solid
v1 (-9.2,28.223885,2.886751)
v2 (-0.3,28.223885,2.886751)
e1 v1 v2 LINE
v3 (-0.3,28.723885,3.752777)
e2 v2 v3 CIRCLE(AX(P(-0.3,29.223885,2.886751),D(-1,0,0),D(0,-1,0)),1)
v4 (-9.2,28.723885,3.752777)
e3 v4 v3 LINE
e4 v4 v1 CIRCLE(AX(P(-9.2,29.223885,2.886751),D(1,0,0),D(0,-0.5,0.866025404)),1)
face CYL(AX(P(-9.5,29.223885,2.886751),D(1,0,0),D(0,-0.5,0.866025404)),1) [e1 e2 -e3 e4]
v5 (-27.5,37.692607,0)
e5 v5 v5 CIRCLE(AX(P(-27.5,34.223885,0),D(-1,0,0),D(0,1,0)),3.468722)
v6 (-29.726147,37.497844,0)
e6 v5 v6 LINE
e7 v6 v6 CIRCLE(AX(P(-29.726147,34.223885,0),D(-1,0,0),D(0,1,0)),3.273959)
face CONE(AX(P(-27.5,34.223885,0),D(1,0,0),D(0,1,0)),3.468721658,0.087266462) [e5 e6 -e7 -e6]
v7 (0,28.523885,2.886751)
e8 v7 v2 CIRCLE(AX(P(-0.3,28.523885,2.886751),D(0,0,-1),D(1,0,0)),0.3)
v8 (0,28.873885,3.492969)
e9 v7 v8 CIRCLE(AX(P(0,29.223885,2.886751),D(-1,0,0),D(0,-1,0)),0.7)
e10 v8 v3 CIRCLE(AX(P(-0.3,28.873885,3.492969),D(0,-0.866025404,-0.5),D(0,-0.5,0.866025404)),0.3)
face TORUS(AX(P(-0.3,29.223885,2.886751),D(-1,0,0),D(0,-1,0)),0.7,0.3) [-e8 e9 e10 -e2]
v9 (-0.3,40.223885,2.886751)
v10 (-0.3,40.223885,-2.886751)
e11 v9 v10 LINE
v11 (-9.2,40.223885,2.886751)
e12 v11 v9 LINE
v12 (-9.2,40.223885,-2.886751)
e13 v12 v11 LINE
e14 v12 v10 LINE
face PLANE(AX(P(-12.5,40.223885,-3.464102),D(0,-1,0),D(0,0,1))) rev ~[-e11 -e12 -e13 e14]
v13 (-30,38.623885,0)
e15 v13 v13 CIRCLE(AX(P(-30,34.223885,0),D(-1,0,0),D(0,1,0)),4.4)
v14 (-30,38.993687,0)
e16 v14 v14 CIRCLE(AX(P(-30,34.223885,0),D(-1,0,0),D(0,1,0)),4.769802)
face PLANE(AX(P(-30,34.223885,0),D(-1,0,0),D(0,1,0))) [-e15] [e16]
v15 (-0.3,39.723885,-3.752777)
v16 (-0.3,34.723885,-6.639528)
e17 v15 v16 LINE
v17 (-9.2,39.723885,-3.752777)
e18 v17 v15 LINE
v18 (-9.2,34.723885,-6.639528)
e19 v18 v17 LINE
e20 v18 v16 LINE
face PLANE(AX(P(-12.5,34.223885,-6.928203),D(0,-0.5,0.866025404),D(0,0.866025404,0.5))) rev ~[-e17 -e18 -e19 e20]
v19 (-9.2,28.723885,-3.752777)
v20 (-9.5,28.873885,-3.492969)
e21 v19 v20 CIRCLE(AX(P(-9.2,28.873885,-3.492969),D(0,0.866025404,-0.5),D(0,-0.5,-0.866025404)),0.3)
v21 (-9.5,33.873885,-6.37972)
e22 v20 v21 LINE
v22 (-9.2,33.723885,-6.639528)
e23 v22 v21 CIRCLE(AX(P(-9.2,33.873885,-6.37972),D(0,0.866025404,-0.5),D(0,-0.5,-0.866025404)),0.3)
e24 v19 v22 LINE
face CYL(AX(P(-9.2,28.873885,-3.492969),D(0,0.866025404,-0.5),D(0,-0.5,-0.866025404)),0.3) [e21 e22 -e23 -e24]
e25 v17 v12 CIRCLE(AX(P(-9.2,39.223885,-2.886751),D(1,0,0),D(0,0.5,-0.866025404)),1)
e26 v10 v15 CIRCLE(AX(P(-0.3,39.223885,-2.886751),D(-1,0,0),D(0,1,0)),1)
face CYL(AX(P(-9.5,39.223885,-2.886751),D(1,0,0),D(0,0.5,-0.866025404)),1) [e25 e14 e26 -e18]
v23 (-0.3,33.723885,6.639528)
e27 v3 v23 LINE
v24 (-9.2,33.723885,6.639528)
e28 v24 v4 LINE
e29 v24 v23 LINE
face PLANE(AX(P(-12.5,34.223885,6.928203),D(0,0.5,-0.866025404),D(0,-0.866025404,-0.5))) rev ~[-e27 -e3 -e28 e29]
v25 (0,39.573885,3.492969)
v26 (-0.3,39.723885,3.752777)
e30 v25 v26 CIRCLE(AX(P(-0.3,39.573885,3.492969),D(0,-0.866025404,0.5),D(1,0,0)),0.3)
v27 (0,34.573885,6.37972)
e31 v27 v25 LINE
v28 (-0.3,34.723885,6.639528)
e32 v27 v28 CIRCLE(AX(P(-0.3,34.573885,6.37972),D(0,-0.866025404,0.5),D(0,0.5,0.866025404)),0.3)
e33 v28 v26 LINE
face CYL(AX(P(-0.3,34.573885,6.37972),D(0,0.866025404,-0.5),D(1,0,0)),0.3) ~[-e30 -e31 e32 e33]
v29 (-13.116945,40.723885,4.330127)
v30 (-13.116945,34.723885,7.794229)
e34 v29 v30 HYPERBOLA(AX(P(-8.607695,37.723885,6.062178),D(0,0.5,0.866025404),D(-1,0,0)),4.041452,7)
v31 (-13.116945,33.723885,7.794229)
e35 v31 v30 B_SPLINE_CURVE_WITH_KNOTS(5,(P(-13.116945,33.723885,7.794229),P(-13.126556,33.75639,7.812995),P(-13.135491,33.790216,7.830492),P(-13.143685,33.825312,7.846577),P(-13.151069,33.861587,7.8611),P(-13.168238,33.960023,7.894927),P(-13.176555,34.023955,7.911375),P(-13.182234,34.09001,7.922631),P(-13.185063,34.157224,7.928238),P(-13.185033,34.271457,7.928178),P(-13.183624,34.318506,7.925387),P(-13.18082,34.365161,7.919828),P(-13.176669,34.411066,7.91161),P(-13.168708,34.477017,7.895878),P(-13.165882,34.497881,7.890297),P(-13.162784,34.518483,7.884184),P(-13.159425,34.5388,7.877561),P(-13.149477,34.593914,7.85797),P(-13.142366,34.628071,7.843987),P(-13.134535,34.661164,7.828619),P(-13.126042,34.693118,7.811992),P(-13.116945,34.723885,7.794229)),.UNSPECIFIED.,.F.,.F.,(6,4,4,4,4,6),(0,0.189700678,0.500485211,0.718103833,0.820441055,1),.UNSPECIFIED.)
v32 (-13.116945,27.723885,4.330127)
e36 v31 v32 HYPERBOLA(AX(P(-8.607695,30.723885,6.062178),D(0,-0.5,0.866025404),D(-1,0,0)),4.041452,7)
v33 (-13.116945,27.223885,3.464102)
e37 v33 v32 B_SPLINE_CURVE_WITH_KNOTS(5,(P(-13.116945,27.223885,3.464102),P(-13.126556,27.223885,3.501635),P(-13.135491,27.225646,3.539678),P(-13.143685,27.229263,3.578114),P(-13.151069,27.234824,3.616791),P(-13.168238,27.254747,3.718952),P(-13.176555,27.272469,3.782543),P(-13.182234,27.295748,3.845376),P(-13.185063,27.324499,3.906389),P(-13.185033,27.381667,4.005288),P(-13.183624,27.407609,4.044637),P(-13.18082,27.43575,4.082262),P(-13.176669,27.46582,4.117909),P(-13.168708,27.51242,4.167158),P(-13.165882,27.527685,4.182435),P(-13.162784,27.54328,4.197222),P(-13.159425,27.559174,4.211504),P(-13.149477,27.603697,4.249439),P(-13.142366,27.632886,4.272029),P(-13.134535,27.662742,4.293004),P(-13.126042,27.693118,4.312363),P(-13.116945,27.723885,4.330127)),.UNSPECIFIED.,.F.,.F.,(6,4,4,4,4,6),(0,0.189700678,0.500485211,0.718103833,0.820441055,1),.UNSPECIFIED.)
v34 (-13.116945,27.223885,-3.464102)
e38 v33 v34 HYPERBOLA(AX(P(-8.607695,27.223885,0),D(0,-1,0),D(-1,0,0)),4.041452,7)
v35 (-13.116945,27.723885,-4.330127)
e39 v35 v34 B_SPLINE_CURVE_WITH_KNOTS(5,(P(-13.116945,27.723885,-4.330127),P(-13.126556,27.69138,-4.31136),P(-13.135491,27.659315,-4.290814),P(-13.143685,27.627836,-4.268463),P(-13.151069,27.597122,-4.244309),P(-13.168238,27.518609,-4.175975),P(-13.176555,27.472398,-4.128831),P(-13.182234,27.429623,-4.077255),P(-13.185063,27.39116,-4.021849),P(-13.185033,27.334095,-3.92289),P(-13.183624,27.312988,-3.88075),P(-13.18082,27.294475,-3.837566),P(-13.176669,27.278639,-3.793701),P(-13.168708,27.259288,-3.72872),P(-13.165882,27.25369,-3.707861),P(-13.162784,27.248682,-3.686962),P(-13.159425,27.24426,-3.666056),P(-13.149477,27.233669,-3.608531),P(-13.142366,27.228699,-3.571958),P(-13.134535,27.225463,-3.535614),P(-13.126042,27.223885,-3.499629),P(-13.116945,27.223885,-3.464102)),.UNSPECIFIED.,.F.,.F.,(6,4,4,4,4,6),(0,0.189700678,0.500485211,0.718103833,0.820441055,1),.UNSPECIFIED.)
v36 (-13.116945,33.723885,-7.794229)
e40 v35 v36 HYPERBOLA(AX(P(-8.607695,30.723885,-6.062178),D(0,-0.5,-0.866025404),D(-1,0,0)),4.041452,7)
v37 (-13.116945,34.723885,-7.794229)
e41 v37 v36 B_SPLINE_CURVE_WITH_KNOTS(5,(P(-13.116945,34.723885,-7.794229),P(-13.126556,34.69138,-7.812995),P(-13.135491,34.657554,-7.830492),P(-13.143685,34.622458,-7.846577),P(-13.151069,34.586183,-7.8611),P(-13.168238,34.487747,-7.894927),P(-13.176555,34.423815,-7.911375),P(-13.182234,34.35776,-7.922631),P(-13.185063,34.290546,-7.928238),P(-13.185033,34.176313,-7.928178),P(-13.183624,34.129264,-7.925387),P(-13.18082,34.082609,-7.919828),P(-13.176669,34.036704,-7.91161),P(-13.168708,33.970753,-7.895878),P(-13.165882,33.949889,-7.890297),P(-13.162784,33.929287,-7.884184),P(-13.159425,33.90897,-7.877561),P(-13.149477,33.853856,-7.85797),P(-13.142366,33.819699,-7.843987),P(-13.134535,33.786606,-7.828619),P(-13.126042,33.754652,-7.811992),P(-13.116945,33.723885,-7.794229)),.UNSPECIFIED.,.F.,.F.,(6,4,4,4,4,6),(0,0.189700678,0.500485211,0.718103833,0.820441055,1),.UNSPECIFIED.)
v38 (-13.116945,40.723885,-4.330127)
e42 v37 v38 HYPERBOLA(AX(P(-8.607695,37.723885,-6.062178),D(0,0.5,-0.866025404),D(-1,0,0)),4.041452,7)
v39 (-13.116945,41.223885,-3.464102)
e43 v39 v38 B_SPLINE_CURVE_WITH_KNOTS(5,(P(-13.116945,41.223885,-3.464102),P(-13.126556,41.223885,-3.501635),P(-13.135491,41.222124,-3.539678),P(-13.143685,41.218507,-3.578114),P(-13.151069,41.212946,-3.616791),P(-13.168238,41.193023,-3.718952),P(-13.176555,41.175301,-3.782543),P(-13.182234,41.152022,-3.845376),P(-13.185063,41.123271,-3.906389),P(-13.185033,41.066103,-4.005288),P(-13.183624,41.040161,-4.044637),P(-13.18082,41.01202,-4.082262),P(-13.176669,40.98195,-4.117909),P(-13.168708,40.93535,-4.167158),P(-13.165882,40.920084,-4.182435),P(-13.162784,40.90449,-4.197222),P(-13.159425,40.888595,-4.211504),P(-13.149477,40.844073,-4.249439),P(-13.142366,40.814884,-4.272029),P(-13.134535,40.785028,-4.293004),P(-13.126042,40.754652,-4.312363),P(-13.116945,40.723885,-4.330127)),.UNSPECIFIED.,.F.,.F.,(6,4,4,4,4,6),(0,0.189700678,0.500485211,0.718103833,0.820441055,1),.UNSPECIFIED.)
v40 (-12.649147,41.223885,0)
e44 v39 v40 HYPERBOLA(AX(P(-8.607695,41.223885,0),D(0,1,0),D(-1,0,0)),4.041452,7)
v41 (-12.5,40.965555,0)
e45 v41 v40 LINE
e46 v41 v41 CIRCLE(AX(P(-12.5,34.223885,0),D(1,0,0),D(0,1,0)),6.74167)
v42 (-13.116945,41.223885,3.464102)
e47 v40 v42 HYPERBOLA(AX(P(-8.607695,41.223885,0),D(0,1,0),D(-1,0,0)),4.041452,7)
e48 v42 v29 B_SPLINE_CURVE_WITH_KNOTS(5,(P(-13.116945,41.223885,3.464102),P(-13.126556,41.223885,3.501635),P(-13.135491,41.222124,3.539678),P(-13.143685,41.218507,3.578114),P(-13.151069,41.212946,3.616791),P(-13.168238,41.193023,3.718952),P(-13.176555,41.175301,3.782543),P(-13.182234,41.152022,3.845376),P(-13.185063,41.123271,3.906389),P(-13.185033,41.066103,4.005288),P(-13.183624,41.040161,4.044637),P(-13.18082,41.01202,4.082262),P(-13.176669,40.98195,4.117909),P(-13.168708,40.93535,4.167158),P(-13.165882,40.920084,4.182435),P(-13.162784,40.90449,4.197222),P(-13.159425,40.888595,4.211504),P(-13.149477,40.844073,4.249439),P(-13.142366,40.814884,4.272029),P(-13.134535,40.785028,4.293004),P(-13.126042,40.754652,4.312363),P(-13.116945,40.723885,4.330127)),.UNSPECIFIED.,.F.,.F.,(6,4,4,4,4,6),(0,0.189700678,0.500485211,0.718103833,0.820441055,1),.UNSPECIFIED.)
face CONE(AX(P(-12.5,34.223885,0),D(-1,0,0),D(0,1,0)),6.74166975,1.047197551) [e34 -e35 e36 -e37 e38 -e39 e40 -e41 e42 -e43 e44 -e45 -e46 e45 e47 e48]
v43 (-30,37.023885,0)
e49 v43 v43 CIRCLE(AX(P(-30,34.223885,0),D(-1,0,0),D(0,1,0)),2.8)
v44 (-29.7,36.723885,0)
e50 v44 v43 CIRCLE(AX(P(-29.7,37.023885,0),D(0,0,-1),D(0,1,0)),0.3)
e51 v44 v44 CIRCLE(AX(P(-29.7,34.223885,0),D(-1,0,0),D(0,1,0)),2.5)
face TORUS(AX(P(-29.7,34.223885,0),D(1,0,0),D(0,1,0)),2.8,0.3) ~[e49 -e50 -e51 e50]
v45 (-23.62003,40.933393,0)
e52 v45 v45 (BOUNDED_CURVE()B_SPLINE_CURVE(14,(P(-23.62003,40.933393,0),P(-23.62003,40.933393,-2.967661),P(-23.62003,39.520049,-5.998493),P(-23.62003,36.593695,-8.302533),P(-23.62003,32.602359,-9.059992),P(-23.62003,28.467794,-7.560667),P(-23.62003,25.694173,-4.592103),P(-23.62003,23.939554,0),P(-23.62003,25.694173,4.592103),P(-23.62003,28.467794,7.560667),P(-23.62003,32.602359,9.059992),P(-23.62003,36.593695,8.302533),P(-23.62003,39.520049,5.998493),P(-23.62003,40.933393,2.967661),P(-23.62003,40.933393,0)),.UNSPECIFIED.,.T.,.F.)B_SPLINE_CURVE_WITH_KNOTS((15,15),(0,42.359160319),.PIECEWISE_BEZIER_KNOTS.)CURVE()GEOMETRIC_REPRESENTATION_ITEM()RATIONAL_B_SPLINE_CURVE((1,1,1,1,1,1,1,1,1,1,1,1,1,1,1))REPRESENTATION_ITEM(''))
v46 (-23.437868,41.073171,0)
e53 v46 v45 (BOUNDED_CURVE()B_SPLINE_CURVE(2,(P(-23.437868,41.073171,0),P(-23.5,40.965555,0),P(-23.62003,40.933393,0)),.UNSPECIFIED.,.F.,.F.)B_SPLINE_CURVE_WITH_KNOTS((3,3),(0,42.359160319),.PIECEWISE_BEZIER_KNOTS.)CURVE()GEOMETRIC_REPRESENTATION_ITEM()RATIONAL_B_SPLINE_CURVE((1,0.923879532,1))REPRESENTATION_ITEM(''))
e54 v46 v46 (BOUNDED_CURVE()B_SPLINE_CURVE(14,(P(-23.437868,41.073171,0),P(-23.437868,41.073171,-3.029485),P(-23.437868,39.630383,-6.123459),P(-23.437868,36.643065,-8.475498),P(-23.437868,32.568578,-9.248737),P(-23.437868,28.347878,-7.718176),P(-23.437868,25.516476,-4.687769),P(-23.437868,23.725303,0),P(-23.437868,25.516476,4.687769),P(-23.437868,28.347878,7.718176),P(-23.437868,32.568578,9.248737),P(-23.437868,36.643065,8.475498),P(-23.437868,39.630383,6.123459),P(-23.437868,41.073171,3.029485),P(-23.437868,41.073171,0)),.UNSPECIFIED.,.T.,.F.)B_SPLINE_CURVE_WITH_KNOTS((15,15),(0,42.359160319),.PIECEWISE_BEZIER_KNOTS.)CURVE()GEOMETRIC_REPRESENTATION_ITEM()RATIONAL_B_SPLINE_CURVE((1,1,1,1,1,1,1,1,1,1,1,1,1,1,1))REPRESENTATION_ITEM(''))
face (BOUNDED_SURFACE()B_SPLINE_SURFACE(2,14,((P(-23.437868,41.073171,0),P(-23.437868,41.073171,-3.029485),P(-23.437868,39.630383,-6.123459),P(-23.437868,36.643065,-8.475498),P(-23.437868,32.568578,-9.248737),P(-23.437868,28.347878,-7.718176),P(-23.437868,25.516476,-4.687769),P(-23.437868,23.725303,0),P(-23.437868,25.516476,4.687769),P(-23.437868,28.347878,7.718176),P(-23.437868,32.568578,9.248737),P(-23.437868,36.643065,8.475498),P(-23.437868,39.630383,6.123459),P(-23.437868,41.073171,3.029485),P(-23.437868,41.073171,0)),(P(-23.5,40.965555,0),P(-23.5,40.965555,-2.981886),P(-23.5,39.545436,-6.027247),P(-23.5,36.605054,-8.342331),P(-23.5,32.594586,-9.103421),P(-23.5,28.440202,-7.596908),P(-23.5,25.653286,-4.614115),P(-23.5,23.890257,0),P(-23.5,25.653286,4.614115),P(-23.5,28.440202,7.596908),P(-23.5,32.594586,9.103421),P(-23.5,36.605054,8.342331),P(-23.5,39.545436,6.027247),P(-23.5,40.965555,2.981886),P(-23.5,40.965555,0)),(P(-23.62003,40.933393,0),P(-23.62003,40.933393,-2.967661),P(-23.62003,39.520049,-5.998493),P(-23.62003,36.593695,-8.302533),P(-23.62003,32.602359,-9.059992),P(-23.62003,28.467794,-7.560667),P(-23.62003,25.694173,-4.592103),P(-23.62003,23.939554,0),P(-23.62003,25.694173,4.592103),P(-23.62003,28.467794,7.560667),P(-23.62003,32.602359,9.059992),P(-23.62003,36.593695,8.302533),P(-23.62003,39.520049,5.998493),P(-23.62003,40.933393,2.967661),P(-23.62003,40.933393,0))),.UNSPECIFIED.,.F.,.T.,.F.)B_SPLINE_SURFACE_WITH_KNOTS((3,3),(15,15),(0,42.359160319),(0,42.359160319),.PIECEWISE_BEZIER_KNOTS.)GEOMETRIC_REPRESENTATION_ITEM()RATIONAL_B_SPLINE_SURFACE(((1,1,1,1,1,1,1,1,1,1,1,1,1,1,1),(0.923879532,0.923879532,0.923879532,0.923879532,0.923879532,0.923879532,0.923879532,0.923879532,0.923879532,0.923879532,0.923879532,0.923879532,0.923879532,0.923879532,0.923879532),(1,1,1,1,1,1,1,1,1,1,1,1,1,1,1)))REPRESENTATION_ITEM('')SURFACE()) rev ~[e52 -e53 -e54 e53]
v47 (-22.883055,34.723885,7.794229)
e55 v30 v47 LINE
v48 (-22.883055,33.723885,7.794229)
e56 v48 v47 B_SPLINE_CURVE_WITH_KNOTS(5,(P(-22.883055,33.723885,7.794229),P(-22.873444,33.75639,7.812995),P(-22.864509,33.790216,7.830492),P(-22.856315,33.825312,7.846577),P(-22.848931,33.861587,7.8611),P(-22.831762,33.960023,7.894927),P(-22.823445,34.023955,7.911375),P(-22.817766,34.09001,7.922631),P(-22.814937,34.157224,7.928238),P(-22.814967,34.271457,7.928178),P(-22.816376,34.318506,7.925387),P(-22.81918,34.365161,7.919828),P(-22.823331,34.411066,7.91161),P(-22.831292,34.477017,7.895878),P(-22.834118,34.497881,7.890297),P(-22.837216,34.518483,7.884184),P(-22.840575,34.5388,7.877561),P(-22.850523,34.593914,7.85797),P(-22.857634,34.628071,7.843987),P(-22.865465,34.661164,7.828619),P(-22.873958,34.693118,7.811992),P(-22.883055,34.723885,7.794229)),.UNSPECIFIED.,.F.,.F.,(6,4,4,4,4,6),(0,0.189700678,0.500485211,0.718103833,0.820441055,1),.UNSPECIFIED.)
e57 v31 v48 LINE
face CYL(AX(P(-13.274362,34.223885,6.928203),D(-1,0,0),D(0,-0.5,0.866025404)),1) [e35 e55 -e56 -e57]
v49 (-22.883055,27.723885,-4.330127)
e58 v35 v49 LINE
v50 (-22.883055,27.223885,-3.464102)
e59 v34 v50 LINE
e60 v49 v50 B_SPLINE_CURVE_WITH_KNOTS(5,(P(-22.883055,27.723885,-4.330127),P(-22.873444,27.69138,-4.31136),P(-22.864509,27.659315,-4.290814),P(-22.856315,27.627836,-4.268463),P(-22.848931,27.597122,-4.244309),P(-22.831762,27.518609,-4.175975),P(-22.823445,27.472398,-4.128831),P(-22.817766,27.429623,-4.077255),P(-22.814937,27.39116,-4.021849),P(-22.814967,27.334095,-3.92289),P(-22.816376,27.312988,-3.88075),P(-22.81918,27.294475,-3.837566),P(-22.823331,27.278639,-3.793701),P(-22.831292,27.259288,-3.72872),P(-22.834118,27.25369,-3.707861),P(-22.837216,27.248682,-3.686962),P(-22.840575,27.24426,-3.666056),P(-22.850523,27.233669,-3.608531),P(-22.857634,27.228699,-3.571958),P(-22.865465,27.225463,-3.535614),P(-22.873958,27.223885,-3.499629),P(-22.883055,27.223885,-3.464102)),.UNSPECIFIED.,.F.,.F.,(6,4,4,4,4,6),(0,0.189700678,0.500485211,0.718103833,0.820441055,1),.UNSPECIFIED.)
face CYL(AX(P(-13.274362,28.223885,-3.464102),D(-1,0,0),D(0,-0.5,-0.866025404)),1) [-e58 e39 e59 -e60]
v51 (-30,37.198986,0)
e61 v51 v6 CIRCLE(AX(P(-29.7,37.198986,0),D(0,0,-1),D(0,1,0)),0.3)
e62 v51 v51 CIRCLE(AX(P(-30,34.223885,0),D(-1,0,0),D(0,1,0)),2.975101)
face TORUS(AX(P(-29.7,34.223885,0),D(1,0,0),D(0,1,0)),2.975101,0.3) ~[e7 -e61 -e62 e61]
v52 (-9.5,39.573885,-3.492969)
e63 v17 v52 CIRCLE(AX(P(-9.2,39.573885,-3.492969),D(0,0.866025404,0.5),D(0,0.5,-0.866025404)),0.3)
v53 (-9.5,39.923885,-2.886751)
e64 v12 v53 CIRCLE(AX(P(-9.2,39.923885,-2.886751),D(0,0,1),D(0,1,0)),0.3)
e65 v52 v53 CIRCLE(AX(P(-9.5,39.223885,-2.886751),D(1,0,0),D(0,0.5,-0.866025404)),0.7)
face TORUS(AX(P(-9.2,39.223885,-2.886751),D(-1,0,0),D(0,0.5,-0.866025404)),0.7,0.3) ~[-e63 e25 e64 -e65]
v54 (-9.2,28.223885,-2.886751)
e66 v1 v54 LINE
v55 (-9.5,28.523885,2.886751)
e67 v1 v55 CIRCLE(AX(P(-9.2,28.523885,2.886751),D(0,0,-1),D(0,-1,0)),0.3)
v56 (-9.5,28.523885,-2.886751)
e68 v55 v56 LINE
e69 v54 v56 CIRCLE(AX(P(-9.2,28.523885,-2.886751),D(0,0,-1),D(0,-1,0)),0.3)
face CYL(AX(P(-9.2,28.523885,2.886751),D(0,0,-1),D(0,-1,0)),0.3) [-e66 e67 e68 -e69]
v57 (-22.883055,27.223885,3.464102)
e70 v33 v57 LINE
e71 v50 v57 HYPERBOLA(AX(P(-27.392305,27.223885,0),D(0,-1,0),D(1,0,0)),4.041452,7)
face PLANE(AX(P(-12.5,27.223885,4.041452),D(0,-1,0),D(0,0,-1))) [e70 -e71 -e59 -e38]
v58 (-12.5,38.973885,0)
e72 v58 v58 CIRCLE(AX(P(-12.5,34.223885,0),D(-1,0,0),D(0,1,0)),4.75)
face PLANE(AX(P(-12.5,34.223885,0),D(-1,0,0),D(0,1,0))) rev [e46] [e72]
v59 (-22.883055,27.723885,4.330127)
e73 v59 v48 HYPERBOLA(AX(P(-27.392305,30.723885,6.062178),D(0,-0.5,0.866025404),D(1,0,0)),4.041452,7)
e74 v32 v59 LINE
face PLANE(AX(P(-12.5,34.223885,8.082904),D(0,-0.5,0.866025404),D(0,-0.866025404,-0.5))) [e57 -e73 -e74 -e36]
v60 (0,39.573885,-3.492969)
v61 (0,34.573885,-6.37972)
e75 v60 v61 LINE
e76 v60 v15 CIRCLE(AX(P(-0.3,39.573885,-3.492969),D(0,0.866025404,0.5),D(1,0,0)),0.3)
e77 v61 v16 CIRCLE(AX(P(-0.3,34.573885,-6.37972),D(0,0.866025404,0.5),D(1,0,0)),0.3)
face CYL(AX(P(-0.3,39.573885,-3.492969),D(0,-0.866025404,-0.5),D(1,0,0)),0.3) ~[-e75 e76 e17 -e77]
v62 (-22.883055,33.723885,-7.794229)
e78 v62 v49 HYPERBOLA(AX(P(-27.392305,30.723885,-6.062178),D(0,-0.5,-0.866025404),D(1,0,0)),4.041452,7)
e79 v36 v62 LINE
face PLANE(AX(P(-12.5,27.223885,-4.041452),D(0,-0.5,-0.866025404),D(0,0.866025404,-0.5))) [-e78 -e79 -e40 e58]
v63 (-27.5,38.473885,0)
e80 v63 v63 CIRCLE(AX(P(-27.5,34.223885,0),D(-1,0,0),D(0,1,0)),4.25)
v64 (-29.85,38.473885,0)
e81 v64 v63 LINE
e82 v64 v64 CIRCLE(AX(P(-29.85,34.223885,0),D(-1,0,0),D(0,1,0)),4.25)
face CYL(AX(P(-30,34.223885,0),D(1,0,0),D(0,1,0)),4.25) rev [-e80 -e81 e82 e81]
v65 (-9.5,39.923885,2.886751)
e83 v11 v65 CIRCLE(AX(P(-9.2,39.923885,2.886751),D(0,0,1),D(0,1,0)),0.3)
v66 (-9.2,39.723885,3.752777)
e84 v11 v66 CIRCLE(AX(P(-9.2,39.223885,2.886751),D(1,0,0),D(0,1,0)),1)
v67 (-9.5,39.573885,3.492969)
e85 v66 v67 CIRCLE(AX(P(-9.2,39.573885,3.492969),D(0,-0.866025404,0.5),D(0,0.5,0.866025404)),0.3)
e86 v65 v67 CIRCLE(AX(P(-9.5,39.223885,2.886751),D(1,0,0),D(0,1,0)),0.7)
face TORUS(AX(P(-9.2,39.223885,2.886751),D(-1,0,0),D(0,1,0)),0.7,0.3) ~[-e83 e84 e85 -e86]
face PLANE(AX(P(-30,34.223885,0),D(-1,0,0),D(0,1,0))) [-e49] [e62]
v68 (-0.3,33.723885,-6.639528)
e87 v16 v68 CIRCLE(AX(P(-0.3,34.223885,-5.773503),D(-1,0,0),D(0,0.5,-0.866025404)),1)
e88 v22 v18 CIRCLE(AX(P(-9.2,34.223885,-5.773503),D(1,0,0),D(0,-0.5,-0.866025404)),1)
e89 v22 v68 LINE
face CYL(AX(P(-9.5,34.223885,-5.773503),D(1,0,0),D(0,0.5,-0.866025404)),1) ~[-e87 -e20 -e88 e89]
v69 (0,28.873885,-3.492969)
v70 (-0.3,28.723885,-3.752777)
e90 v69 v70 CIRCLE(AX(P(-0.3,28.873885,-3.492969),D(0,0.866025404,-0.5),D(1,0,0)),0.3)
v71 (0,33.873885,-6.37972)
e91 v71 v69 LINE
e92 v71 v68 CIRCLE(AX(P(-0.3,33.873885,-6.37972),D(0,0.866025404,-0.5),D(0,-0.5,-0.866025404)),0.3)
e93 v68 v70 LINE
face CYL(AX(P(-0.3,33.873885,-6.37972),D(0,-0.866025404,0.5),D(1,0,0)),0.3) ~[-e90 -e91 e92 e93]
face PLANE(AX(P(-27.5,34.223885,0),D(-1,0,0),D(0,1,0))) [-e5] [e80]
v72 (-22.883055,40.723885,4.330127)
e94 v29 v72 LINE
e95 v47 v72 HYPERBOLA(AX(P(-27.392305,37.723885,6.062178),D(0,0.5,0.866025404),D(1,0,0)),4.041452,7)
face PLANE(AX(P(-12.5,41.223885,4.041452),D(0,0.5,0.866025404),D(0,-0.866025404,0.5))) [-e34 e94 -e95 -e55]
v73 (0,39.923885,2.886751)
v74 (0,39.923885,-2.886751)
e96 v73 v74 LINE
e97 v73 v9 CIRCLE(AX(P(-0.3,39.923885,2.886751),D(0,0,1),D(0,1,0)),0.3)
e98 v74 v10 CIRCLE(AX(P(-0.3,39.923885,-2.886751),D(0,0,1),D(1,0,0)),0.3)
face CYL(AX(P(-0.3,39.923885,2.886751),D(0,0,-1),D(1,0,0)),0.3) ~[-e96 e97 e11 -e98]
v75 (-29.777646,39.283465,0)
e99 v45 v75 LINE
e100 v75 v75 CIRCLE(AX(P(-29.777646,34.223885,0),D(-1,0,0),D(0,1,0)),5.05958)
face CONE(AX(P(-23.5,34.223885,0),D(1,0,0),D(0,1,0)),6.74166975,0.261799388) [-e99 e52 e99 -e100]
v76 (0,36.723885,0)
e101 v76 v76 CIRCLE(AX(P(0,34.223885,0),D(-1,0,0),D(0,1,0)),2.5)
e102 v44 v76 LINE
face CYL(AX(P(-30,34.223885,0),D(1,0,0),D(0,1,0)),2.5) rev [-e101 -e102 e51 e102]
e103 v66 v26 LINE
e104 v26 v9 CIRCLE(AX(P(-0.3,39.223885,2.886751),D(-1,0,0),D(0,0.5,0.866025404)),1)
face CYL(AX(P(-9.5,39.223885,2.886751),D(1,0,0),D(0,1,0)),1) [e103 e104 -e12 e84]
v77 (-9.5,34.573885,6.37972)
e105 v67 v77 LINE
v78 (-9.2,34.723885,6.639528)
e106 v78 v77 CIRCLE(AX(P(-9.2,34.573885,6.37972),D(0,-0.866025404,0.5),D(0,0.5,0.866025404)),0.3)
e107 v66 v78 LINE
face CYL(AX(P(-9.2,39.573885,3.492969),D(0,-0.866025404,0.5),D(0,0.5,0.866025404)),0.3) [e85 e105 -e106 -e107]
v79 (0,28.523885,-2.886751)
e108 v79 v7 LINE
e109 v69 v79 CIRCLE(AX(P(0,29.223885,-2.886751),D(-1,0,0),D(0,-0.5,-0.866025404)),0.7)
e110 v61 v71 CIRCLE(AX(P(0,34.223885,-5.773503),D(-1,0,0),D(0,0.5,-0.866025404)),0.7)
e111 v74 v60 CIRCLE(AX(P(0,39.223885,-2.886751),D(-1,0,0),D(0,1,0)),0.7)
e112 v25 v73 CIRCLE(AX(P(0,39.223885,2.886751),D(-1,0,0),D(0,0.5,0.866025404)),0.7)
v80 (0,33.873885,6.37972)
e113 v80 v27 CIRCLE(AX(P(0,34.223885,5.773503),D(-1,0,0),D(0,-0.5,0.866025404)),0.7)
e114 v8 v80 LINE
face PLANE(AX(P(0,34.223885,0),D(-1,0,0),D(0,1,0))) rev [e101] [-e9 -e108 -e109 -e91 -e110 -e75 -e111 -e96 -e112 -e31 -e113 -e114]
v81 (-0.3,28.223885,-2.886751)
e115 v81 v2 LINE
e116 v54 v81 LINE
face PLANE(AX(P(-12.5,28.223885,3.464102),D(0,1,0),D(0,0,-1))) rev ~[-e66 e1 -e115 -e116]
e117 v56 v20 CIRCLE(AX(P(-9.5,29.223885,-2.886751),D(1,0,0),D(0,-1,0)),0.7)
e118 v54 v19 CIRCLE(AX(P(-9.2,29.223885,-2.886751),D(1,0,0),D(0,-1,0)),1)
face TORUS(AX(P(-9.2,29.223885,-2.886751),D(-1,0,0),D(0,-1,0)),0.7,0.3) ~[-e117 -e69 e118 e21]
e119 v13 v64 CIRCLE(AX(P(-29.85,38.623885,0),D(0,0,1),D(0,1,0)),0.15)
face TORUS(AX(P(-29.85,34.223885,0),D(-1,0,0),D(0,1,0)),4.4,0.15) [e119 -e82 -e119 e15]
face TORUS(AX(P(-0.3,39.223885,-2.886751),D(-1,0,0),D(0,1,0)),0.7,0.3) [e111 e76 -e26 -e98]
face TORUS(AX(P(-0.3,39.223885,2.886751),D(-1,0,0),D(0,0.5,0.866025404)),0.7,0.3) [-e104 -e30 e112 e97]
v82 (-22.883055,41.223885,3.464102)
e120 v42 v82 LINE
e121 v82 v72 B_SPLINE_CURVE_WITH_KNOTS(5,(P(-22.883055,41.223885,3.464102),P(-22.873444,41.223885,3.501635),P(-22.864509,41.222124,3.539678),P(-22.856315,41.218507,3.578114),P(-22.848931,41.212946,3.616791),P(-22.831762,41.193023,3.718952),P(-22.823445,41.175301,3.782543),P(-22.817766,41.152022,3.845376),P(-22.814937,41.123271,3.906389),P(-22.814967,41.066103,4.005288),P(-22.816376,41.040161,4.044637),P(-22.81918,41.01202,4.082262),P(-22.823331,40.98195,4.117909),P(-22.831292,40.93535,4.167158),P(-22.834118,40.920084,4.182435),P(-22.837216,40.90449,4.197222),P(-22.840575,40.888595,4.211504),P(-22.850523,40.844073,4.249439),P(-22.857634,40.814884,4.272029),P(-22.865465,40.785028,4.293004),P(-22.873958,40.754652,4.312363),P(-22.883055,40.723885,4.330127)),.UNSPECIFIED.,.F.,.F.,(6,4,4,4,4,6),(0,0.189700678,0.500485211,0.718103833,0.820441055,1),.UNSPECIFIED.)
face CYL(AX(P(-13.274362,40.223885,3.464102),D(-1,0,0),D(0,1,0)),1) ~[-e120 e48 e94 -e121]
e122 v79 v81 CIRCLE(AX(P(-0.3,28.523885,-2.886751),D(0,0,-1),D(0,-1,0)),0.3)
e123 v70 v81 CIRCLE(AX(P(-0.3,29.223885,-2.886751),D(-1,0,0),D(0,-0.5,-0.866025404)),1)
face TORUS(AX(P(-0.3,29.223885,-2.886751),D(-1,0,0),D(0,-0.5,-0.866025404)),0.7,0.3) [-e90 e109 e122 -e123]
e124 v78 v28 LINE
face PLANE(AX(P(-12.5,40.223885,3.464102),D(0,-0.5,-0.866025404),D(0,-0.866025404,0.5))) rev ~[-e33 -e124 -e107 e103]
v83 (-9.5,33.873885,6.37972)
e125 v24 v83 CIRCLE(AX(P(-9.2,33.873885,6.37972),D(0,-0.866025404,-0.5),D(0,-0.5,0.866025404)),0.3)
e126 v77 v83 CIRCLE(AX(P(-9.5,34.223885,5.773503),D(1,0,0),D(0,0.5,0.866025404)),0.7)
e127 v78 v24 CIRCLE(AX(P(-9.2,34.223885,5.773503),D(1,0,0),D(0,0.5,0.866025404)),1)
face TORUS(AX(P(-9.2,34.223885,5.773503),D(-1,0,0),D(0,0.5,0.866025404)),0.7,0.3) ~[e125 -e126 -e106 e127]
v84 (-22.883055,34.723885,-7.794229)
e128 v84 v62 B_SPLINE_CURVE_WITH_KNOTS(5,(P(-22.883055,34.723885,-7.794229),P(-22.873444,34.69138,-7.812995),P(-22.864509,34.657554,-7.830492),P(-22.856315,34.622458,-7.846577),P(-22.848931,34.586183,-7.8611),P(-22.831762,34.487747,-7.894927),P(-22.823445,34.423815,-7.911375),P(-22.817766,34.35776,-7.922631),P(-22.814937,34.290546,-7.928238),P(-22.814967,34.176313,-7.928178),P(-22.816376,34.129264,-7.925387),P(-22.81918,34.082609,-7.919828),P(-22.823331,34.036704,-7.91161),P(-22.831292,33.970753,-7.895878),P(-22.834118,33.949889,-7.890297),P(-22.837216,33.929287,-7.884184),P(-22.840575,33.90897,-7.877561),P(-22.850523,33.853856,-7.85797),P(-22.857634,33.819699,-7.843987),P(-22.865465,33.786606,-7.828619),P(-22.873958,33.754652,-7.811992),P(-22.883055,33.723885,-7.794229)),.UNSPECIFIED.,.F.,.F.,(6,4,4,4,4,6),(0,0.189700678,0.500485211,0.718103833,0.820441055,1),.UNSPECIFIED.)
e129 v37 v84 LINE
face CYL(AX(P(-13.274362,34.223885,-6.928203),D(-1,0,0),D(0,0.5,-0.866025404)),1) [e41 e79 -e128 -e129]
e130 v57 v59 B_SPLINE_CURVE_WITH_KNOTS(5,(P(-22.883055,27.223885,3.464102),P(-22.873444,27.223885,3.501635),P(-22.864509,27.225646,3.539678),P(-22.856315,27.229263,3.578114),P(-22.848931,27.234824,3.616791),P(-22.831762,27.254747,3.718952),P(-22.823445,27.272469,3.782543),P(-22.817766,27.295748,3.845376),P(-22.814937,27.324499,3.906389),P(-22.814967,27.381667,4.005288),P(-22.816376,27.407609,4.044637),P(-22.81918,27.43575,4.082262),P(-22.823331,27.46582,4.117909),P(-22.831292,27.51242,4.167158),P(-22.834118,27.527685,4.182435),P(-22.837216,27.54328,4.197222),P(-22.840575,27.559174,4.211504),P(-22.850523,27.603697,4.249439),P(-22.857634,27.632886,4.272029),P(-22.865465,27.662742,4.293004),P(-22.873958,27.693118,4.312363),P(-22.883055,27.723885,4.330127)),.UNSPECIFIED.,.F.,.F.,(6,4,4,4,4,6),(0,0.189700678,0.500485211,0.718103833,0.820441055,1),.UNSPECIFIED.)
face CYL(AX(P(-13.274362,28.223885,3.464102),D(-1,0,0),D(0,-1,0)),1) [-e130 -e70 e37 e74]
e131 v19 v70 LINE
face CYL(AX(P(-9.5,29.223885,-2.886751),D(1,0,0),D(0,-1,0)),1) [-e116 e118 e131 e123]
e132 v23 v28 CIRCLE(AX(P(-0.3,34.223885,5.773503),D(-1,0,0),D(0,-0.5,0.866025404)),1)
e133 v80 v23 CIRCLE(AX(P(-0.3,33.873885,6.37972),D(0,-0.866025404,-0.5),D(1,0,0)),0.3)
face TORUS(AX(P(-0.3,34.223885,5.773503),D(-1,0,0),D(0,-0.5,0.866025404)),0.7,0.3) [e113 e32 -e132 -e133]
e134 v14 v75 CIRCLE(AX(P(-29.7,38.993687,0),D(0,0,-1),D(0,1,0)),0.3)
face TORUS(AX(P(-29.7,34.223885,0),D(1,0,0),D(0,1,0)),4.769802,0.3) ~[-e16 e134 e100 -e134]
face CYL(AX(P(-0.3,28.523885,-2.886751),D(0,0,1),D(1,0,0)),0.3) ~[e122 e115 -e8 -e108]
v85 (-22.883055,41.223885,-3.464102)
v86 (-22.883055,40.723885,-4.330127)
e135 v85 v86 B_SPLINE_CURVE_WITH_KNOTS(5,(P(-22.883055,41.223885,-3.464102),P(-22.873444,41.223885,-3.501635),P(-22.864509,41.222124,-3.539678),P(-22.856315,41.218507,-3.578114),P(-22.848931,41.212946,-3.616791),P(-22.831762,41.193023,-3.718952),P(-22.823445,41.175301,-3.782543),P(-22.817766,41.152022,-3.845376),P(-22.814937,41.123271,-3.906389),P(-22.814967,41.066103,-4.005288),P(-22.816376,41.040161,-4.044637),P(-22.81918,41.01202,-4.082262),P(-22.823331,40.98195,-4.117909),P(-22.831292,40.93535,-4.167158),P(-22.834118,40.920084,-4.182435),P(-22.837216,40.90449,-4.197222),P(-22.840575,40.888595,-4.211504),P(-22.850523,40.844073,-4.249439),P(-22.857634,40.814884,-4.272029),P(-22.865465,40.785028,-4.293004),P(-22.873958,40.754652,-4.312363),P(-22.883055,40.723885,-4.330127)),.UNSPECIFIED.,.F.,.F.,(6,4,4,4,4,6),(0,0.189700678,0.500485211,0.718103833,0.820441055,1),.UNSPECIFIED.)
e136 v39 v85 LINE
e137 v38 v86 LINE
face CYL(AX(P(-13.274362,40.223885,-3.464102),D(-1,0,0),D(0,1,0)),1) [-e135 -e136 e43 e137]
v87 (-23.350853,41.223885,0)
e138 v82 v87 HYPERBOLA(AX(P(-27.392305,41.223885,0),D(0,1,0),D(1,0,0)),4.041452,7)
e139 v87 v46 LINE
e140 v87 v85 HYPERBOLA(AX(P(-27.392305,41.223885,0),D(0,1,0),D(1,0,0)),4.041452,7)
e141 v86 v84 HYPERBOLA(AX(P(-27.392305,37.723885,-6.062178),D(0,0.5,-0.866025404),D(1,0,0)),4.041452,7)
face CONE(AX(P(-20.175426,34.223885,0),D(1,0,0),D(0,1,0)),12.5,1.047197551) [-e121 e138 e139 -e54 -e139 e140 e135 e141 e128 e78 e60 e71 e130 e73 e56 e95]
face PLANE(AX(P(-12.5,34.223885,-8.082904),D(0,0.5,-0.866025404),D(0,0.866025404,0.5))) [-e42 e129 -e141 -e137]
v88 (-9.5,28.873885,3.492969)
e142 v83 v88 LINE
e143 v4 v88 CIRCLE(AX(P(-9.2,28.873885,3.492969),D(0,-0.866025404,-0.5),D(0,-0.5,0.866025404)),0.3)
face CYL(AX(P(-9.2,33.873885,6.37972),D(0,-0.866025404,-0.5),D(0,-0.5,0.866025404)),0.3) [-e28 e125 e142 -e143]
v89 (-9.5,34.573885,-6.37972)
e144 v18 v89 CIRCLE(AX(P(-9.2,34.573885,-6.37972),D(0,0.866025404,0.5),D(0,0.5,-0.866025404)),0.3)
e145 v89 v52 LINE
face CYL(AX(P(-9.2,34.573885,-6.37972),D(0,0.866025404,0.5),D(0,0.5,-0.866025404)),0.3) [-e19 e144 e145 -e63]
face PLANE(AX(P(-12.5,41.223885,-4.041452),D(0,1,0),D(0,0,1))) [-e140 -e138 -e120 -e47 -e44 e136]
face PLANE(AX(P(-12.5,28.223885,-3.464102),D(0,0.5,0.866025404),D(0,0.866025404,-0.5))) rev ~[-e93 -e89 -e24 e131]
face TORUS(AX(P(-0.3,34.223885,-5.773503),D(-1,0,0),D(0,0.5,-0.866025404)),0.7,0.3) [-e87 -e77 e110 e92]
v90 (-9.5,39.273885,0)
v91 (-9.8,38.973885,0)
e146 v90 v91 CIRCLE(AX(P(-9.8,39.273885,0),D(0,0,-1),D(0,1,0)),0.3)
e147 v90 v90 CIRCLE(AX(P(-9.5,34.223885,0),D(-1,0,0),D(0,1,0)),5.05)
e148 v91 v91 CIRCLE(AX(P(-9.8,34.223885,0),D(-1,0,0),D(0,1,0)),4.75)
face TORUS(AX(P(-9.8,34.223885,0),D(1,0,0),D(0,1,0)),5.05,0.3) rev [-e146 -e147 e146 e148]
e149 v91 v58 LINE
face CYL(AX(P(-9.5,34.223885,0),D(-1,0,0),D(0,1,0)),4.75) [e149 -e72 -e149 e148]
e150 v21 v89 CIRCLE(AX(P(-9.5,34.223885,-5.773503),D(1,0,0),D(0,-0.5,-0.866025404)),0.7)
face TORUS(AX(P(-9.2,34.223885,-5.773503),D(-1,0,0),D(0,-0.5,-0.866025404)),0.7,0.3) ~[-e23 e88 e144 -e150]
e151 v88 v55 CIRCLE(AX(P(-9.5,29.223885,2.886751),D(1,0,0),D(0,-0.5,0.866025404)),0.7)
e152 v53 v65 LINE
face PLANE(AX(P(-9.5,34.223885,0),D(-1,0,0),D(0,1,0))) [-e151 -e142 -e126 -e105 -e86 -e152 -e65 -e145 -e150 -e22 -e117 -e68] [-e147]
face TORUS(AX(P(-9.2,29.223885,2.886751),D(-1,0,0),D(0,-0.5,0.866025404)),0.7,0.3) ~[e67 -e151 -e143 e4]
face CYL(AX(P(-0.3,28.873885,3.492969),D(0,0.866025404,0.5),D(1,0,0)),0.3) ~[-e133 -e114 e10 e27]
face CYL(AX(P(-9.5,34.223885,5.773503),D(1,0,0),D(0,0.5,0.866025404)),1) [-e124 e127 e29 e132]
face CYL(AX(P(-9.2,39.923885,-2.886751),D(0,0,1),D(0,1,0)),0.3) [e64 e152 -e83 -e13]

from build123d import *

# Parameters (mm, degrees)
SKETCH_2_R          = 12.5
CUT_EXTRUDE_1_DEPTH = 13.5
FILLET_1_R          = 1
SKETCH_3_R          = 12.5
CUT_EXTRUDE_2_DEPTH = 18.5
FILLET_2_R          = 0.3
FILLET_3_R          = 1
FILLET_4_R          = 0.15


with BuildPart() as part:
    # Эскиз1 → Повернуть1 (revolve)
    with BuildSketch(Plane.XY):
        Polygon((-30, 36.723884975), (0, 36.723884975), (0, 38.973884975), (0, 40), (0, 46.723884975), (-9.5, 46.723884975), (-9.5, 38.973884975), (-12.5, 38.973884975), (-12.5, 40.965554725), (-15.824573519, 46.723884975), (-20.175426481, 46.723884975), (-23.5, 40.965554725), (-30, 39.223884975), (-30, 38.473884975), (-27.5, 38.473884975), (-27.5, 37.692606633), (-30, 37.473884975), align=None)
    revolve(axis=Axis((0, 34.223884975, 0), (-1, 0, 0)))

    # Эскиз2 → Вырез-Вытянуть1 (cut, through all)
    with BuildSketch(Plane(origin=(-12.5, 0, 0), x_dir=(0, 0, -1), z_dir=(1, 0, 0))):
        with Locations((0, 34.223884975)):
            Circle(SKETCH_2_R)
        Polygon((3.464101615, 28.223884975), (6.92820323, 34.223884975), (3.464101615, 40.223884975), (-3.464101615, 40.223884975), (-6.92820323, 34.223884975), (-3.464101615, 28.223884975), align=None, mode=Mode.SUBTRACT)
    extrude(amount=CUT_EXTRUDE_1_DEPTH, mode=Mode.SUBTRACT)

    # Скругление1
    fillet_1_edges = [part.edges().sort_by_distance(p)[0] for p in [
        (-4.75, 28.223884975, -3.464101615),
        (-4.75, 34.223884975, -6.92820323),
        (-4.75, 40.223884975, -3.464101615),
        (-4.75, 40.223884975, 3.464101615),
        (-4.75, 34.223884975, 6.92820323),
        (-4.75, 28.223884975, 3.464101615),
    ]]
    fillet(fillet_1_edges, radius=FILLET_1_R)

    # Эскиз3 → Вырез-Вытянуть2 (cut, through all)
    with BuildSketch(Plane(origin=(-12.5, 0, 0), x_dir=(0, 0, -1), z_dir=(1, 0, 0))):
        with Locations((0, 34.223884975)):
            Circle(SKETCH_3_R)
        Polygon((-4.041451884, 27.223884975), (4.041451884, 27.223884975), (8.082903769, 34.223884975), (4.041451884, 41.223884975), (-4.041451884, 41.223884975), (-8.082903769, 34.223884975), align=None, mode=Mode.SUBTRACT)
    extrude(amount=-CUT_EXTRUDE_2_DEPTH, mode=Mode.SUBTRACT)

    # Скругление2
    fillet_2_edges = [part.edges().sort_by_distance(p)[0] for p in [
        (-30, 31.723884975, 0),
        (-30, 30.973884975, 0),
        (-30, 29.223884975, 0),
        (-23.5, 27.482215224, 0),
        (-9.5, 29.473884975, 0),
        (0, 37.223884975, -5.196152423),
        (-9.5, 37.223884975, -5.196152423),
        (-9.5, 31.223884975, -5.196152423),
        (-9.5, 28.223884975, 0),
        (-9.5, 31.223884975, 5.196152423),
        (-9.5, 37.223884975, 5.196152423),
        (-9.5, 40.223884975, 0),
        (-9.5, 40.089910378, 3.386751346),
        (-9.5, 40.089910378, -3.386751346),
        (-9.5, 34.223884975, 6.773502692),
        (-9.5, 28.357859571, 3.386751346),
        (-9.5, 28.357859571, -3.386751346),
        (-9.5, 34.223884975, -6.773502692),
        (0, 31.223884975, -5.196152423),
        (0, 31.223884975, 5.196152423),
        (0, 28.223884975, 0),
        (0, 40.223884975, 0),
        (0, 37.223884975, 5.196152423),
        (0, 40.089910378, 3.386751346),
        (0, 40.089910378, -3.386751346),
        (0, 34.223884975, 6.773502692),
        (0, 28.357859571, 3.386751346),
        (0, 28.357859571, -3.386751346),
        (0, 34.223884975, -6.773502692),
    ]]
    fillet(fillet_2_edges, radius=FILLET_2_R)

    # Скругление3
    fillet_3_edges = [part.edges().sort_by_distance(p)[0] for p in [
        (-18, 27.223884975, 4.041451884),
        (-18, 27.223884975, -4.041451884),
        (-18, 34.223884975, -8.082903769),
        (-18, 41.223884975, -4.041451884),
        (-18, 41.223884975, 4.041451884),
        (-18, 34.223884975, 8.082903769),
    ]]
    fillet(fillet_3_edges, radius=FILLET_3_R)

    # Скругление4
    fillet_4_edges = [part.edges().sort_by_distance(p)[0] for p in [
        (-30, 29.973884975, 0),
    ]]
    fillet(fillet_4_edges, radius=FILLET_4_R)


solid = part.part
